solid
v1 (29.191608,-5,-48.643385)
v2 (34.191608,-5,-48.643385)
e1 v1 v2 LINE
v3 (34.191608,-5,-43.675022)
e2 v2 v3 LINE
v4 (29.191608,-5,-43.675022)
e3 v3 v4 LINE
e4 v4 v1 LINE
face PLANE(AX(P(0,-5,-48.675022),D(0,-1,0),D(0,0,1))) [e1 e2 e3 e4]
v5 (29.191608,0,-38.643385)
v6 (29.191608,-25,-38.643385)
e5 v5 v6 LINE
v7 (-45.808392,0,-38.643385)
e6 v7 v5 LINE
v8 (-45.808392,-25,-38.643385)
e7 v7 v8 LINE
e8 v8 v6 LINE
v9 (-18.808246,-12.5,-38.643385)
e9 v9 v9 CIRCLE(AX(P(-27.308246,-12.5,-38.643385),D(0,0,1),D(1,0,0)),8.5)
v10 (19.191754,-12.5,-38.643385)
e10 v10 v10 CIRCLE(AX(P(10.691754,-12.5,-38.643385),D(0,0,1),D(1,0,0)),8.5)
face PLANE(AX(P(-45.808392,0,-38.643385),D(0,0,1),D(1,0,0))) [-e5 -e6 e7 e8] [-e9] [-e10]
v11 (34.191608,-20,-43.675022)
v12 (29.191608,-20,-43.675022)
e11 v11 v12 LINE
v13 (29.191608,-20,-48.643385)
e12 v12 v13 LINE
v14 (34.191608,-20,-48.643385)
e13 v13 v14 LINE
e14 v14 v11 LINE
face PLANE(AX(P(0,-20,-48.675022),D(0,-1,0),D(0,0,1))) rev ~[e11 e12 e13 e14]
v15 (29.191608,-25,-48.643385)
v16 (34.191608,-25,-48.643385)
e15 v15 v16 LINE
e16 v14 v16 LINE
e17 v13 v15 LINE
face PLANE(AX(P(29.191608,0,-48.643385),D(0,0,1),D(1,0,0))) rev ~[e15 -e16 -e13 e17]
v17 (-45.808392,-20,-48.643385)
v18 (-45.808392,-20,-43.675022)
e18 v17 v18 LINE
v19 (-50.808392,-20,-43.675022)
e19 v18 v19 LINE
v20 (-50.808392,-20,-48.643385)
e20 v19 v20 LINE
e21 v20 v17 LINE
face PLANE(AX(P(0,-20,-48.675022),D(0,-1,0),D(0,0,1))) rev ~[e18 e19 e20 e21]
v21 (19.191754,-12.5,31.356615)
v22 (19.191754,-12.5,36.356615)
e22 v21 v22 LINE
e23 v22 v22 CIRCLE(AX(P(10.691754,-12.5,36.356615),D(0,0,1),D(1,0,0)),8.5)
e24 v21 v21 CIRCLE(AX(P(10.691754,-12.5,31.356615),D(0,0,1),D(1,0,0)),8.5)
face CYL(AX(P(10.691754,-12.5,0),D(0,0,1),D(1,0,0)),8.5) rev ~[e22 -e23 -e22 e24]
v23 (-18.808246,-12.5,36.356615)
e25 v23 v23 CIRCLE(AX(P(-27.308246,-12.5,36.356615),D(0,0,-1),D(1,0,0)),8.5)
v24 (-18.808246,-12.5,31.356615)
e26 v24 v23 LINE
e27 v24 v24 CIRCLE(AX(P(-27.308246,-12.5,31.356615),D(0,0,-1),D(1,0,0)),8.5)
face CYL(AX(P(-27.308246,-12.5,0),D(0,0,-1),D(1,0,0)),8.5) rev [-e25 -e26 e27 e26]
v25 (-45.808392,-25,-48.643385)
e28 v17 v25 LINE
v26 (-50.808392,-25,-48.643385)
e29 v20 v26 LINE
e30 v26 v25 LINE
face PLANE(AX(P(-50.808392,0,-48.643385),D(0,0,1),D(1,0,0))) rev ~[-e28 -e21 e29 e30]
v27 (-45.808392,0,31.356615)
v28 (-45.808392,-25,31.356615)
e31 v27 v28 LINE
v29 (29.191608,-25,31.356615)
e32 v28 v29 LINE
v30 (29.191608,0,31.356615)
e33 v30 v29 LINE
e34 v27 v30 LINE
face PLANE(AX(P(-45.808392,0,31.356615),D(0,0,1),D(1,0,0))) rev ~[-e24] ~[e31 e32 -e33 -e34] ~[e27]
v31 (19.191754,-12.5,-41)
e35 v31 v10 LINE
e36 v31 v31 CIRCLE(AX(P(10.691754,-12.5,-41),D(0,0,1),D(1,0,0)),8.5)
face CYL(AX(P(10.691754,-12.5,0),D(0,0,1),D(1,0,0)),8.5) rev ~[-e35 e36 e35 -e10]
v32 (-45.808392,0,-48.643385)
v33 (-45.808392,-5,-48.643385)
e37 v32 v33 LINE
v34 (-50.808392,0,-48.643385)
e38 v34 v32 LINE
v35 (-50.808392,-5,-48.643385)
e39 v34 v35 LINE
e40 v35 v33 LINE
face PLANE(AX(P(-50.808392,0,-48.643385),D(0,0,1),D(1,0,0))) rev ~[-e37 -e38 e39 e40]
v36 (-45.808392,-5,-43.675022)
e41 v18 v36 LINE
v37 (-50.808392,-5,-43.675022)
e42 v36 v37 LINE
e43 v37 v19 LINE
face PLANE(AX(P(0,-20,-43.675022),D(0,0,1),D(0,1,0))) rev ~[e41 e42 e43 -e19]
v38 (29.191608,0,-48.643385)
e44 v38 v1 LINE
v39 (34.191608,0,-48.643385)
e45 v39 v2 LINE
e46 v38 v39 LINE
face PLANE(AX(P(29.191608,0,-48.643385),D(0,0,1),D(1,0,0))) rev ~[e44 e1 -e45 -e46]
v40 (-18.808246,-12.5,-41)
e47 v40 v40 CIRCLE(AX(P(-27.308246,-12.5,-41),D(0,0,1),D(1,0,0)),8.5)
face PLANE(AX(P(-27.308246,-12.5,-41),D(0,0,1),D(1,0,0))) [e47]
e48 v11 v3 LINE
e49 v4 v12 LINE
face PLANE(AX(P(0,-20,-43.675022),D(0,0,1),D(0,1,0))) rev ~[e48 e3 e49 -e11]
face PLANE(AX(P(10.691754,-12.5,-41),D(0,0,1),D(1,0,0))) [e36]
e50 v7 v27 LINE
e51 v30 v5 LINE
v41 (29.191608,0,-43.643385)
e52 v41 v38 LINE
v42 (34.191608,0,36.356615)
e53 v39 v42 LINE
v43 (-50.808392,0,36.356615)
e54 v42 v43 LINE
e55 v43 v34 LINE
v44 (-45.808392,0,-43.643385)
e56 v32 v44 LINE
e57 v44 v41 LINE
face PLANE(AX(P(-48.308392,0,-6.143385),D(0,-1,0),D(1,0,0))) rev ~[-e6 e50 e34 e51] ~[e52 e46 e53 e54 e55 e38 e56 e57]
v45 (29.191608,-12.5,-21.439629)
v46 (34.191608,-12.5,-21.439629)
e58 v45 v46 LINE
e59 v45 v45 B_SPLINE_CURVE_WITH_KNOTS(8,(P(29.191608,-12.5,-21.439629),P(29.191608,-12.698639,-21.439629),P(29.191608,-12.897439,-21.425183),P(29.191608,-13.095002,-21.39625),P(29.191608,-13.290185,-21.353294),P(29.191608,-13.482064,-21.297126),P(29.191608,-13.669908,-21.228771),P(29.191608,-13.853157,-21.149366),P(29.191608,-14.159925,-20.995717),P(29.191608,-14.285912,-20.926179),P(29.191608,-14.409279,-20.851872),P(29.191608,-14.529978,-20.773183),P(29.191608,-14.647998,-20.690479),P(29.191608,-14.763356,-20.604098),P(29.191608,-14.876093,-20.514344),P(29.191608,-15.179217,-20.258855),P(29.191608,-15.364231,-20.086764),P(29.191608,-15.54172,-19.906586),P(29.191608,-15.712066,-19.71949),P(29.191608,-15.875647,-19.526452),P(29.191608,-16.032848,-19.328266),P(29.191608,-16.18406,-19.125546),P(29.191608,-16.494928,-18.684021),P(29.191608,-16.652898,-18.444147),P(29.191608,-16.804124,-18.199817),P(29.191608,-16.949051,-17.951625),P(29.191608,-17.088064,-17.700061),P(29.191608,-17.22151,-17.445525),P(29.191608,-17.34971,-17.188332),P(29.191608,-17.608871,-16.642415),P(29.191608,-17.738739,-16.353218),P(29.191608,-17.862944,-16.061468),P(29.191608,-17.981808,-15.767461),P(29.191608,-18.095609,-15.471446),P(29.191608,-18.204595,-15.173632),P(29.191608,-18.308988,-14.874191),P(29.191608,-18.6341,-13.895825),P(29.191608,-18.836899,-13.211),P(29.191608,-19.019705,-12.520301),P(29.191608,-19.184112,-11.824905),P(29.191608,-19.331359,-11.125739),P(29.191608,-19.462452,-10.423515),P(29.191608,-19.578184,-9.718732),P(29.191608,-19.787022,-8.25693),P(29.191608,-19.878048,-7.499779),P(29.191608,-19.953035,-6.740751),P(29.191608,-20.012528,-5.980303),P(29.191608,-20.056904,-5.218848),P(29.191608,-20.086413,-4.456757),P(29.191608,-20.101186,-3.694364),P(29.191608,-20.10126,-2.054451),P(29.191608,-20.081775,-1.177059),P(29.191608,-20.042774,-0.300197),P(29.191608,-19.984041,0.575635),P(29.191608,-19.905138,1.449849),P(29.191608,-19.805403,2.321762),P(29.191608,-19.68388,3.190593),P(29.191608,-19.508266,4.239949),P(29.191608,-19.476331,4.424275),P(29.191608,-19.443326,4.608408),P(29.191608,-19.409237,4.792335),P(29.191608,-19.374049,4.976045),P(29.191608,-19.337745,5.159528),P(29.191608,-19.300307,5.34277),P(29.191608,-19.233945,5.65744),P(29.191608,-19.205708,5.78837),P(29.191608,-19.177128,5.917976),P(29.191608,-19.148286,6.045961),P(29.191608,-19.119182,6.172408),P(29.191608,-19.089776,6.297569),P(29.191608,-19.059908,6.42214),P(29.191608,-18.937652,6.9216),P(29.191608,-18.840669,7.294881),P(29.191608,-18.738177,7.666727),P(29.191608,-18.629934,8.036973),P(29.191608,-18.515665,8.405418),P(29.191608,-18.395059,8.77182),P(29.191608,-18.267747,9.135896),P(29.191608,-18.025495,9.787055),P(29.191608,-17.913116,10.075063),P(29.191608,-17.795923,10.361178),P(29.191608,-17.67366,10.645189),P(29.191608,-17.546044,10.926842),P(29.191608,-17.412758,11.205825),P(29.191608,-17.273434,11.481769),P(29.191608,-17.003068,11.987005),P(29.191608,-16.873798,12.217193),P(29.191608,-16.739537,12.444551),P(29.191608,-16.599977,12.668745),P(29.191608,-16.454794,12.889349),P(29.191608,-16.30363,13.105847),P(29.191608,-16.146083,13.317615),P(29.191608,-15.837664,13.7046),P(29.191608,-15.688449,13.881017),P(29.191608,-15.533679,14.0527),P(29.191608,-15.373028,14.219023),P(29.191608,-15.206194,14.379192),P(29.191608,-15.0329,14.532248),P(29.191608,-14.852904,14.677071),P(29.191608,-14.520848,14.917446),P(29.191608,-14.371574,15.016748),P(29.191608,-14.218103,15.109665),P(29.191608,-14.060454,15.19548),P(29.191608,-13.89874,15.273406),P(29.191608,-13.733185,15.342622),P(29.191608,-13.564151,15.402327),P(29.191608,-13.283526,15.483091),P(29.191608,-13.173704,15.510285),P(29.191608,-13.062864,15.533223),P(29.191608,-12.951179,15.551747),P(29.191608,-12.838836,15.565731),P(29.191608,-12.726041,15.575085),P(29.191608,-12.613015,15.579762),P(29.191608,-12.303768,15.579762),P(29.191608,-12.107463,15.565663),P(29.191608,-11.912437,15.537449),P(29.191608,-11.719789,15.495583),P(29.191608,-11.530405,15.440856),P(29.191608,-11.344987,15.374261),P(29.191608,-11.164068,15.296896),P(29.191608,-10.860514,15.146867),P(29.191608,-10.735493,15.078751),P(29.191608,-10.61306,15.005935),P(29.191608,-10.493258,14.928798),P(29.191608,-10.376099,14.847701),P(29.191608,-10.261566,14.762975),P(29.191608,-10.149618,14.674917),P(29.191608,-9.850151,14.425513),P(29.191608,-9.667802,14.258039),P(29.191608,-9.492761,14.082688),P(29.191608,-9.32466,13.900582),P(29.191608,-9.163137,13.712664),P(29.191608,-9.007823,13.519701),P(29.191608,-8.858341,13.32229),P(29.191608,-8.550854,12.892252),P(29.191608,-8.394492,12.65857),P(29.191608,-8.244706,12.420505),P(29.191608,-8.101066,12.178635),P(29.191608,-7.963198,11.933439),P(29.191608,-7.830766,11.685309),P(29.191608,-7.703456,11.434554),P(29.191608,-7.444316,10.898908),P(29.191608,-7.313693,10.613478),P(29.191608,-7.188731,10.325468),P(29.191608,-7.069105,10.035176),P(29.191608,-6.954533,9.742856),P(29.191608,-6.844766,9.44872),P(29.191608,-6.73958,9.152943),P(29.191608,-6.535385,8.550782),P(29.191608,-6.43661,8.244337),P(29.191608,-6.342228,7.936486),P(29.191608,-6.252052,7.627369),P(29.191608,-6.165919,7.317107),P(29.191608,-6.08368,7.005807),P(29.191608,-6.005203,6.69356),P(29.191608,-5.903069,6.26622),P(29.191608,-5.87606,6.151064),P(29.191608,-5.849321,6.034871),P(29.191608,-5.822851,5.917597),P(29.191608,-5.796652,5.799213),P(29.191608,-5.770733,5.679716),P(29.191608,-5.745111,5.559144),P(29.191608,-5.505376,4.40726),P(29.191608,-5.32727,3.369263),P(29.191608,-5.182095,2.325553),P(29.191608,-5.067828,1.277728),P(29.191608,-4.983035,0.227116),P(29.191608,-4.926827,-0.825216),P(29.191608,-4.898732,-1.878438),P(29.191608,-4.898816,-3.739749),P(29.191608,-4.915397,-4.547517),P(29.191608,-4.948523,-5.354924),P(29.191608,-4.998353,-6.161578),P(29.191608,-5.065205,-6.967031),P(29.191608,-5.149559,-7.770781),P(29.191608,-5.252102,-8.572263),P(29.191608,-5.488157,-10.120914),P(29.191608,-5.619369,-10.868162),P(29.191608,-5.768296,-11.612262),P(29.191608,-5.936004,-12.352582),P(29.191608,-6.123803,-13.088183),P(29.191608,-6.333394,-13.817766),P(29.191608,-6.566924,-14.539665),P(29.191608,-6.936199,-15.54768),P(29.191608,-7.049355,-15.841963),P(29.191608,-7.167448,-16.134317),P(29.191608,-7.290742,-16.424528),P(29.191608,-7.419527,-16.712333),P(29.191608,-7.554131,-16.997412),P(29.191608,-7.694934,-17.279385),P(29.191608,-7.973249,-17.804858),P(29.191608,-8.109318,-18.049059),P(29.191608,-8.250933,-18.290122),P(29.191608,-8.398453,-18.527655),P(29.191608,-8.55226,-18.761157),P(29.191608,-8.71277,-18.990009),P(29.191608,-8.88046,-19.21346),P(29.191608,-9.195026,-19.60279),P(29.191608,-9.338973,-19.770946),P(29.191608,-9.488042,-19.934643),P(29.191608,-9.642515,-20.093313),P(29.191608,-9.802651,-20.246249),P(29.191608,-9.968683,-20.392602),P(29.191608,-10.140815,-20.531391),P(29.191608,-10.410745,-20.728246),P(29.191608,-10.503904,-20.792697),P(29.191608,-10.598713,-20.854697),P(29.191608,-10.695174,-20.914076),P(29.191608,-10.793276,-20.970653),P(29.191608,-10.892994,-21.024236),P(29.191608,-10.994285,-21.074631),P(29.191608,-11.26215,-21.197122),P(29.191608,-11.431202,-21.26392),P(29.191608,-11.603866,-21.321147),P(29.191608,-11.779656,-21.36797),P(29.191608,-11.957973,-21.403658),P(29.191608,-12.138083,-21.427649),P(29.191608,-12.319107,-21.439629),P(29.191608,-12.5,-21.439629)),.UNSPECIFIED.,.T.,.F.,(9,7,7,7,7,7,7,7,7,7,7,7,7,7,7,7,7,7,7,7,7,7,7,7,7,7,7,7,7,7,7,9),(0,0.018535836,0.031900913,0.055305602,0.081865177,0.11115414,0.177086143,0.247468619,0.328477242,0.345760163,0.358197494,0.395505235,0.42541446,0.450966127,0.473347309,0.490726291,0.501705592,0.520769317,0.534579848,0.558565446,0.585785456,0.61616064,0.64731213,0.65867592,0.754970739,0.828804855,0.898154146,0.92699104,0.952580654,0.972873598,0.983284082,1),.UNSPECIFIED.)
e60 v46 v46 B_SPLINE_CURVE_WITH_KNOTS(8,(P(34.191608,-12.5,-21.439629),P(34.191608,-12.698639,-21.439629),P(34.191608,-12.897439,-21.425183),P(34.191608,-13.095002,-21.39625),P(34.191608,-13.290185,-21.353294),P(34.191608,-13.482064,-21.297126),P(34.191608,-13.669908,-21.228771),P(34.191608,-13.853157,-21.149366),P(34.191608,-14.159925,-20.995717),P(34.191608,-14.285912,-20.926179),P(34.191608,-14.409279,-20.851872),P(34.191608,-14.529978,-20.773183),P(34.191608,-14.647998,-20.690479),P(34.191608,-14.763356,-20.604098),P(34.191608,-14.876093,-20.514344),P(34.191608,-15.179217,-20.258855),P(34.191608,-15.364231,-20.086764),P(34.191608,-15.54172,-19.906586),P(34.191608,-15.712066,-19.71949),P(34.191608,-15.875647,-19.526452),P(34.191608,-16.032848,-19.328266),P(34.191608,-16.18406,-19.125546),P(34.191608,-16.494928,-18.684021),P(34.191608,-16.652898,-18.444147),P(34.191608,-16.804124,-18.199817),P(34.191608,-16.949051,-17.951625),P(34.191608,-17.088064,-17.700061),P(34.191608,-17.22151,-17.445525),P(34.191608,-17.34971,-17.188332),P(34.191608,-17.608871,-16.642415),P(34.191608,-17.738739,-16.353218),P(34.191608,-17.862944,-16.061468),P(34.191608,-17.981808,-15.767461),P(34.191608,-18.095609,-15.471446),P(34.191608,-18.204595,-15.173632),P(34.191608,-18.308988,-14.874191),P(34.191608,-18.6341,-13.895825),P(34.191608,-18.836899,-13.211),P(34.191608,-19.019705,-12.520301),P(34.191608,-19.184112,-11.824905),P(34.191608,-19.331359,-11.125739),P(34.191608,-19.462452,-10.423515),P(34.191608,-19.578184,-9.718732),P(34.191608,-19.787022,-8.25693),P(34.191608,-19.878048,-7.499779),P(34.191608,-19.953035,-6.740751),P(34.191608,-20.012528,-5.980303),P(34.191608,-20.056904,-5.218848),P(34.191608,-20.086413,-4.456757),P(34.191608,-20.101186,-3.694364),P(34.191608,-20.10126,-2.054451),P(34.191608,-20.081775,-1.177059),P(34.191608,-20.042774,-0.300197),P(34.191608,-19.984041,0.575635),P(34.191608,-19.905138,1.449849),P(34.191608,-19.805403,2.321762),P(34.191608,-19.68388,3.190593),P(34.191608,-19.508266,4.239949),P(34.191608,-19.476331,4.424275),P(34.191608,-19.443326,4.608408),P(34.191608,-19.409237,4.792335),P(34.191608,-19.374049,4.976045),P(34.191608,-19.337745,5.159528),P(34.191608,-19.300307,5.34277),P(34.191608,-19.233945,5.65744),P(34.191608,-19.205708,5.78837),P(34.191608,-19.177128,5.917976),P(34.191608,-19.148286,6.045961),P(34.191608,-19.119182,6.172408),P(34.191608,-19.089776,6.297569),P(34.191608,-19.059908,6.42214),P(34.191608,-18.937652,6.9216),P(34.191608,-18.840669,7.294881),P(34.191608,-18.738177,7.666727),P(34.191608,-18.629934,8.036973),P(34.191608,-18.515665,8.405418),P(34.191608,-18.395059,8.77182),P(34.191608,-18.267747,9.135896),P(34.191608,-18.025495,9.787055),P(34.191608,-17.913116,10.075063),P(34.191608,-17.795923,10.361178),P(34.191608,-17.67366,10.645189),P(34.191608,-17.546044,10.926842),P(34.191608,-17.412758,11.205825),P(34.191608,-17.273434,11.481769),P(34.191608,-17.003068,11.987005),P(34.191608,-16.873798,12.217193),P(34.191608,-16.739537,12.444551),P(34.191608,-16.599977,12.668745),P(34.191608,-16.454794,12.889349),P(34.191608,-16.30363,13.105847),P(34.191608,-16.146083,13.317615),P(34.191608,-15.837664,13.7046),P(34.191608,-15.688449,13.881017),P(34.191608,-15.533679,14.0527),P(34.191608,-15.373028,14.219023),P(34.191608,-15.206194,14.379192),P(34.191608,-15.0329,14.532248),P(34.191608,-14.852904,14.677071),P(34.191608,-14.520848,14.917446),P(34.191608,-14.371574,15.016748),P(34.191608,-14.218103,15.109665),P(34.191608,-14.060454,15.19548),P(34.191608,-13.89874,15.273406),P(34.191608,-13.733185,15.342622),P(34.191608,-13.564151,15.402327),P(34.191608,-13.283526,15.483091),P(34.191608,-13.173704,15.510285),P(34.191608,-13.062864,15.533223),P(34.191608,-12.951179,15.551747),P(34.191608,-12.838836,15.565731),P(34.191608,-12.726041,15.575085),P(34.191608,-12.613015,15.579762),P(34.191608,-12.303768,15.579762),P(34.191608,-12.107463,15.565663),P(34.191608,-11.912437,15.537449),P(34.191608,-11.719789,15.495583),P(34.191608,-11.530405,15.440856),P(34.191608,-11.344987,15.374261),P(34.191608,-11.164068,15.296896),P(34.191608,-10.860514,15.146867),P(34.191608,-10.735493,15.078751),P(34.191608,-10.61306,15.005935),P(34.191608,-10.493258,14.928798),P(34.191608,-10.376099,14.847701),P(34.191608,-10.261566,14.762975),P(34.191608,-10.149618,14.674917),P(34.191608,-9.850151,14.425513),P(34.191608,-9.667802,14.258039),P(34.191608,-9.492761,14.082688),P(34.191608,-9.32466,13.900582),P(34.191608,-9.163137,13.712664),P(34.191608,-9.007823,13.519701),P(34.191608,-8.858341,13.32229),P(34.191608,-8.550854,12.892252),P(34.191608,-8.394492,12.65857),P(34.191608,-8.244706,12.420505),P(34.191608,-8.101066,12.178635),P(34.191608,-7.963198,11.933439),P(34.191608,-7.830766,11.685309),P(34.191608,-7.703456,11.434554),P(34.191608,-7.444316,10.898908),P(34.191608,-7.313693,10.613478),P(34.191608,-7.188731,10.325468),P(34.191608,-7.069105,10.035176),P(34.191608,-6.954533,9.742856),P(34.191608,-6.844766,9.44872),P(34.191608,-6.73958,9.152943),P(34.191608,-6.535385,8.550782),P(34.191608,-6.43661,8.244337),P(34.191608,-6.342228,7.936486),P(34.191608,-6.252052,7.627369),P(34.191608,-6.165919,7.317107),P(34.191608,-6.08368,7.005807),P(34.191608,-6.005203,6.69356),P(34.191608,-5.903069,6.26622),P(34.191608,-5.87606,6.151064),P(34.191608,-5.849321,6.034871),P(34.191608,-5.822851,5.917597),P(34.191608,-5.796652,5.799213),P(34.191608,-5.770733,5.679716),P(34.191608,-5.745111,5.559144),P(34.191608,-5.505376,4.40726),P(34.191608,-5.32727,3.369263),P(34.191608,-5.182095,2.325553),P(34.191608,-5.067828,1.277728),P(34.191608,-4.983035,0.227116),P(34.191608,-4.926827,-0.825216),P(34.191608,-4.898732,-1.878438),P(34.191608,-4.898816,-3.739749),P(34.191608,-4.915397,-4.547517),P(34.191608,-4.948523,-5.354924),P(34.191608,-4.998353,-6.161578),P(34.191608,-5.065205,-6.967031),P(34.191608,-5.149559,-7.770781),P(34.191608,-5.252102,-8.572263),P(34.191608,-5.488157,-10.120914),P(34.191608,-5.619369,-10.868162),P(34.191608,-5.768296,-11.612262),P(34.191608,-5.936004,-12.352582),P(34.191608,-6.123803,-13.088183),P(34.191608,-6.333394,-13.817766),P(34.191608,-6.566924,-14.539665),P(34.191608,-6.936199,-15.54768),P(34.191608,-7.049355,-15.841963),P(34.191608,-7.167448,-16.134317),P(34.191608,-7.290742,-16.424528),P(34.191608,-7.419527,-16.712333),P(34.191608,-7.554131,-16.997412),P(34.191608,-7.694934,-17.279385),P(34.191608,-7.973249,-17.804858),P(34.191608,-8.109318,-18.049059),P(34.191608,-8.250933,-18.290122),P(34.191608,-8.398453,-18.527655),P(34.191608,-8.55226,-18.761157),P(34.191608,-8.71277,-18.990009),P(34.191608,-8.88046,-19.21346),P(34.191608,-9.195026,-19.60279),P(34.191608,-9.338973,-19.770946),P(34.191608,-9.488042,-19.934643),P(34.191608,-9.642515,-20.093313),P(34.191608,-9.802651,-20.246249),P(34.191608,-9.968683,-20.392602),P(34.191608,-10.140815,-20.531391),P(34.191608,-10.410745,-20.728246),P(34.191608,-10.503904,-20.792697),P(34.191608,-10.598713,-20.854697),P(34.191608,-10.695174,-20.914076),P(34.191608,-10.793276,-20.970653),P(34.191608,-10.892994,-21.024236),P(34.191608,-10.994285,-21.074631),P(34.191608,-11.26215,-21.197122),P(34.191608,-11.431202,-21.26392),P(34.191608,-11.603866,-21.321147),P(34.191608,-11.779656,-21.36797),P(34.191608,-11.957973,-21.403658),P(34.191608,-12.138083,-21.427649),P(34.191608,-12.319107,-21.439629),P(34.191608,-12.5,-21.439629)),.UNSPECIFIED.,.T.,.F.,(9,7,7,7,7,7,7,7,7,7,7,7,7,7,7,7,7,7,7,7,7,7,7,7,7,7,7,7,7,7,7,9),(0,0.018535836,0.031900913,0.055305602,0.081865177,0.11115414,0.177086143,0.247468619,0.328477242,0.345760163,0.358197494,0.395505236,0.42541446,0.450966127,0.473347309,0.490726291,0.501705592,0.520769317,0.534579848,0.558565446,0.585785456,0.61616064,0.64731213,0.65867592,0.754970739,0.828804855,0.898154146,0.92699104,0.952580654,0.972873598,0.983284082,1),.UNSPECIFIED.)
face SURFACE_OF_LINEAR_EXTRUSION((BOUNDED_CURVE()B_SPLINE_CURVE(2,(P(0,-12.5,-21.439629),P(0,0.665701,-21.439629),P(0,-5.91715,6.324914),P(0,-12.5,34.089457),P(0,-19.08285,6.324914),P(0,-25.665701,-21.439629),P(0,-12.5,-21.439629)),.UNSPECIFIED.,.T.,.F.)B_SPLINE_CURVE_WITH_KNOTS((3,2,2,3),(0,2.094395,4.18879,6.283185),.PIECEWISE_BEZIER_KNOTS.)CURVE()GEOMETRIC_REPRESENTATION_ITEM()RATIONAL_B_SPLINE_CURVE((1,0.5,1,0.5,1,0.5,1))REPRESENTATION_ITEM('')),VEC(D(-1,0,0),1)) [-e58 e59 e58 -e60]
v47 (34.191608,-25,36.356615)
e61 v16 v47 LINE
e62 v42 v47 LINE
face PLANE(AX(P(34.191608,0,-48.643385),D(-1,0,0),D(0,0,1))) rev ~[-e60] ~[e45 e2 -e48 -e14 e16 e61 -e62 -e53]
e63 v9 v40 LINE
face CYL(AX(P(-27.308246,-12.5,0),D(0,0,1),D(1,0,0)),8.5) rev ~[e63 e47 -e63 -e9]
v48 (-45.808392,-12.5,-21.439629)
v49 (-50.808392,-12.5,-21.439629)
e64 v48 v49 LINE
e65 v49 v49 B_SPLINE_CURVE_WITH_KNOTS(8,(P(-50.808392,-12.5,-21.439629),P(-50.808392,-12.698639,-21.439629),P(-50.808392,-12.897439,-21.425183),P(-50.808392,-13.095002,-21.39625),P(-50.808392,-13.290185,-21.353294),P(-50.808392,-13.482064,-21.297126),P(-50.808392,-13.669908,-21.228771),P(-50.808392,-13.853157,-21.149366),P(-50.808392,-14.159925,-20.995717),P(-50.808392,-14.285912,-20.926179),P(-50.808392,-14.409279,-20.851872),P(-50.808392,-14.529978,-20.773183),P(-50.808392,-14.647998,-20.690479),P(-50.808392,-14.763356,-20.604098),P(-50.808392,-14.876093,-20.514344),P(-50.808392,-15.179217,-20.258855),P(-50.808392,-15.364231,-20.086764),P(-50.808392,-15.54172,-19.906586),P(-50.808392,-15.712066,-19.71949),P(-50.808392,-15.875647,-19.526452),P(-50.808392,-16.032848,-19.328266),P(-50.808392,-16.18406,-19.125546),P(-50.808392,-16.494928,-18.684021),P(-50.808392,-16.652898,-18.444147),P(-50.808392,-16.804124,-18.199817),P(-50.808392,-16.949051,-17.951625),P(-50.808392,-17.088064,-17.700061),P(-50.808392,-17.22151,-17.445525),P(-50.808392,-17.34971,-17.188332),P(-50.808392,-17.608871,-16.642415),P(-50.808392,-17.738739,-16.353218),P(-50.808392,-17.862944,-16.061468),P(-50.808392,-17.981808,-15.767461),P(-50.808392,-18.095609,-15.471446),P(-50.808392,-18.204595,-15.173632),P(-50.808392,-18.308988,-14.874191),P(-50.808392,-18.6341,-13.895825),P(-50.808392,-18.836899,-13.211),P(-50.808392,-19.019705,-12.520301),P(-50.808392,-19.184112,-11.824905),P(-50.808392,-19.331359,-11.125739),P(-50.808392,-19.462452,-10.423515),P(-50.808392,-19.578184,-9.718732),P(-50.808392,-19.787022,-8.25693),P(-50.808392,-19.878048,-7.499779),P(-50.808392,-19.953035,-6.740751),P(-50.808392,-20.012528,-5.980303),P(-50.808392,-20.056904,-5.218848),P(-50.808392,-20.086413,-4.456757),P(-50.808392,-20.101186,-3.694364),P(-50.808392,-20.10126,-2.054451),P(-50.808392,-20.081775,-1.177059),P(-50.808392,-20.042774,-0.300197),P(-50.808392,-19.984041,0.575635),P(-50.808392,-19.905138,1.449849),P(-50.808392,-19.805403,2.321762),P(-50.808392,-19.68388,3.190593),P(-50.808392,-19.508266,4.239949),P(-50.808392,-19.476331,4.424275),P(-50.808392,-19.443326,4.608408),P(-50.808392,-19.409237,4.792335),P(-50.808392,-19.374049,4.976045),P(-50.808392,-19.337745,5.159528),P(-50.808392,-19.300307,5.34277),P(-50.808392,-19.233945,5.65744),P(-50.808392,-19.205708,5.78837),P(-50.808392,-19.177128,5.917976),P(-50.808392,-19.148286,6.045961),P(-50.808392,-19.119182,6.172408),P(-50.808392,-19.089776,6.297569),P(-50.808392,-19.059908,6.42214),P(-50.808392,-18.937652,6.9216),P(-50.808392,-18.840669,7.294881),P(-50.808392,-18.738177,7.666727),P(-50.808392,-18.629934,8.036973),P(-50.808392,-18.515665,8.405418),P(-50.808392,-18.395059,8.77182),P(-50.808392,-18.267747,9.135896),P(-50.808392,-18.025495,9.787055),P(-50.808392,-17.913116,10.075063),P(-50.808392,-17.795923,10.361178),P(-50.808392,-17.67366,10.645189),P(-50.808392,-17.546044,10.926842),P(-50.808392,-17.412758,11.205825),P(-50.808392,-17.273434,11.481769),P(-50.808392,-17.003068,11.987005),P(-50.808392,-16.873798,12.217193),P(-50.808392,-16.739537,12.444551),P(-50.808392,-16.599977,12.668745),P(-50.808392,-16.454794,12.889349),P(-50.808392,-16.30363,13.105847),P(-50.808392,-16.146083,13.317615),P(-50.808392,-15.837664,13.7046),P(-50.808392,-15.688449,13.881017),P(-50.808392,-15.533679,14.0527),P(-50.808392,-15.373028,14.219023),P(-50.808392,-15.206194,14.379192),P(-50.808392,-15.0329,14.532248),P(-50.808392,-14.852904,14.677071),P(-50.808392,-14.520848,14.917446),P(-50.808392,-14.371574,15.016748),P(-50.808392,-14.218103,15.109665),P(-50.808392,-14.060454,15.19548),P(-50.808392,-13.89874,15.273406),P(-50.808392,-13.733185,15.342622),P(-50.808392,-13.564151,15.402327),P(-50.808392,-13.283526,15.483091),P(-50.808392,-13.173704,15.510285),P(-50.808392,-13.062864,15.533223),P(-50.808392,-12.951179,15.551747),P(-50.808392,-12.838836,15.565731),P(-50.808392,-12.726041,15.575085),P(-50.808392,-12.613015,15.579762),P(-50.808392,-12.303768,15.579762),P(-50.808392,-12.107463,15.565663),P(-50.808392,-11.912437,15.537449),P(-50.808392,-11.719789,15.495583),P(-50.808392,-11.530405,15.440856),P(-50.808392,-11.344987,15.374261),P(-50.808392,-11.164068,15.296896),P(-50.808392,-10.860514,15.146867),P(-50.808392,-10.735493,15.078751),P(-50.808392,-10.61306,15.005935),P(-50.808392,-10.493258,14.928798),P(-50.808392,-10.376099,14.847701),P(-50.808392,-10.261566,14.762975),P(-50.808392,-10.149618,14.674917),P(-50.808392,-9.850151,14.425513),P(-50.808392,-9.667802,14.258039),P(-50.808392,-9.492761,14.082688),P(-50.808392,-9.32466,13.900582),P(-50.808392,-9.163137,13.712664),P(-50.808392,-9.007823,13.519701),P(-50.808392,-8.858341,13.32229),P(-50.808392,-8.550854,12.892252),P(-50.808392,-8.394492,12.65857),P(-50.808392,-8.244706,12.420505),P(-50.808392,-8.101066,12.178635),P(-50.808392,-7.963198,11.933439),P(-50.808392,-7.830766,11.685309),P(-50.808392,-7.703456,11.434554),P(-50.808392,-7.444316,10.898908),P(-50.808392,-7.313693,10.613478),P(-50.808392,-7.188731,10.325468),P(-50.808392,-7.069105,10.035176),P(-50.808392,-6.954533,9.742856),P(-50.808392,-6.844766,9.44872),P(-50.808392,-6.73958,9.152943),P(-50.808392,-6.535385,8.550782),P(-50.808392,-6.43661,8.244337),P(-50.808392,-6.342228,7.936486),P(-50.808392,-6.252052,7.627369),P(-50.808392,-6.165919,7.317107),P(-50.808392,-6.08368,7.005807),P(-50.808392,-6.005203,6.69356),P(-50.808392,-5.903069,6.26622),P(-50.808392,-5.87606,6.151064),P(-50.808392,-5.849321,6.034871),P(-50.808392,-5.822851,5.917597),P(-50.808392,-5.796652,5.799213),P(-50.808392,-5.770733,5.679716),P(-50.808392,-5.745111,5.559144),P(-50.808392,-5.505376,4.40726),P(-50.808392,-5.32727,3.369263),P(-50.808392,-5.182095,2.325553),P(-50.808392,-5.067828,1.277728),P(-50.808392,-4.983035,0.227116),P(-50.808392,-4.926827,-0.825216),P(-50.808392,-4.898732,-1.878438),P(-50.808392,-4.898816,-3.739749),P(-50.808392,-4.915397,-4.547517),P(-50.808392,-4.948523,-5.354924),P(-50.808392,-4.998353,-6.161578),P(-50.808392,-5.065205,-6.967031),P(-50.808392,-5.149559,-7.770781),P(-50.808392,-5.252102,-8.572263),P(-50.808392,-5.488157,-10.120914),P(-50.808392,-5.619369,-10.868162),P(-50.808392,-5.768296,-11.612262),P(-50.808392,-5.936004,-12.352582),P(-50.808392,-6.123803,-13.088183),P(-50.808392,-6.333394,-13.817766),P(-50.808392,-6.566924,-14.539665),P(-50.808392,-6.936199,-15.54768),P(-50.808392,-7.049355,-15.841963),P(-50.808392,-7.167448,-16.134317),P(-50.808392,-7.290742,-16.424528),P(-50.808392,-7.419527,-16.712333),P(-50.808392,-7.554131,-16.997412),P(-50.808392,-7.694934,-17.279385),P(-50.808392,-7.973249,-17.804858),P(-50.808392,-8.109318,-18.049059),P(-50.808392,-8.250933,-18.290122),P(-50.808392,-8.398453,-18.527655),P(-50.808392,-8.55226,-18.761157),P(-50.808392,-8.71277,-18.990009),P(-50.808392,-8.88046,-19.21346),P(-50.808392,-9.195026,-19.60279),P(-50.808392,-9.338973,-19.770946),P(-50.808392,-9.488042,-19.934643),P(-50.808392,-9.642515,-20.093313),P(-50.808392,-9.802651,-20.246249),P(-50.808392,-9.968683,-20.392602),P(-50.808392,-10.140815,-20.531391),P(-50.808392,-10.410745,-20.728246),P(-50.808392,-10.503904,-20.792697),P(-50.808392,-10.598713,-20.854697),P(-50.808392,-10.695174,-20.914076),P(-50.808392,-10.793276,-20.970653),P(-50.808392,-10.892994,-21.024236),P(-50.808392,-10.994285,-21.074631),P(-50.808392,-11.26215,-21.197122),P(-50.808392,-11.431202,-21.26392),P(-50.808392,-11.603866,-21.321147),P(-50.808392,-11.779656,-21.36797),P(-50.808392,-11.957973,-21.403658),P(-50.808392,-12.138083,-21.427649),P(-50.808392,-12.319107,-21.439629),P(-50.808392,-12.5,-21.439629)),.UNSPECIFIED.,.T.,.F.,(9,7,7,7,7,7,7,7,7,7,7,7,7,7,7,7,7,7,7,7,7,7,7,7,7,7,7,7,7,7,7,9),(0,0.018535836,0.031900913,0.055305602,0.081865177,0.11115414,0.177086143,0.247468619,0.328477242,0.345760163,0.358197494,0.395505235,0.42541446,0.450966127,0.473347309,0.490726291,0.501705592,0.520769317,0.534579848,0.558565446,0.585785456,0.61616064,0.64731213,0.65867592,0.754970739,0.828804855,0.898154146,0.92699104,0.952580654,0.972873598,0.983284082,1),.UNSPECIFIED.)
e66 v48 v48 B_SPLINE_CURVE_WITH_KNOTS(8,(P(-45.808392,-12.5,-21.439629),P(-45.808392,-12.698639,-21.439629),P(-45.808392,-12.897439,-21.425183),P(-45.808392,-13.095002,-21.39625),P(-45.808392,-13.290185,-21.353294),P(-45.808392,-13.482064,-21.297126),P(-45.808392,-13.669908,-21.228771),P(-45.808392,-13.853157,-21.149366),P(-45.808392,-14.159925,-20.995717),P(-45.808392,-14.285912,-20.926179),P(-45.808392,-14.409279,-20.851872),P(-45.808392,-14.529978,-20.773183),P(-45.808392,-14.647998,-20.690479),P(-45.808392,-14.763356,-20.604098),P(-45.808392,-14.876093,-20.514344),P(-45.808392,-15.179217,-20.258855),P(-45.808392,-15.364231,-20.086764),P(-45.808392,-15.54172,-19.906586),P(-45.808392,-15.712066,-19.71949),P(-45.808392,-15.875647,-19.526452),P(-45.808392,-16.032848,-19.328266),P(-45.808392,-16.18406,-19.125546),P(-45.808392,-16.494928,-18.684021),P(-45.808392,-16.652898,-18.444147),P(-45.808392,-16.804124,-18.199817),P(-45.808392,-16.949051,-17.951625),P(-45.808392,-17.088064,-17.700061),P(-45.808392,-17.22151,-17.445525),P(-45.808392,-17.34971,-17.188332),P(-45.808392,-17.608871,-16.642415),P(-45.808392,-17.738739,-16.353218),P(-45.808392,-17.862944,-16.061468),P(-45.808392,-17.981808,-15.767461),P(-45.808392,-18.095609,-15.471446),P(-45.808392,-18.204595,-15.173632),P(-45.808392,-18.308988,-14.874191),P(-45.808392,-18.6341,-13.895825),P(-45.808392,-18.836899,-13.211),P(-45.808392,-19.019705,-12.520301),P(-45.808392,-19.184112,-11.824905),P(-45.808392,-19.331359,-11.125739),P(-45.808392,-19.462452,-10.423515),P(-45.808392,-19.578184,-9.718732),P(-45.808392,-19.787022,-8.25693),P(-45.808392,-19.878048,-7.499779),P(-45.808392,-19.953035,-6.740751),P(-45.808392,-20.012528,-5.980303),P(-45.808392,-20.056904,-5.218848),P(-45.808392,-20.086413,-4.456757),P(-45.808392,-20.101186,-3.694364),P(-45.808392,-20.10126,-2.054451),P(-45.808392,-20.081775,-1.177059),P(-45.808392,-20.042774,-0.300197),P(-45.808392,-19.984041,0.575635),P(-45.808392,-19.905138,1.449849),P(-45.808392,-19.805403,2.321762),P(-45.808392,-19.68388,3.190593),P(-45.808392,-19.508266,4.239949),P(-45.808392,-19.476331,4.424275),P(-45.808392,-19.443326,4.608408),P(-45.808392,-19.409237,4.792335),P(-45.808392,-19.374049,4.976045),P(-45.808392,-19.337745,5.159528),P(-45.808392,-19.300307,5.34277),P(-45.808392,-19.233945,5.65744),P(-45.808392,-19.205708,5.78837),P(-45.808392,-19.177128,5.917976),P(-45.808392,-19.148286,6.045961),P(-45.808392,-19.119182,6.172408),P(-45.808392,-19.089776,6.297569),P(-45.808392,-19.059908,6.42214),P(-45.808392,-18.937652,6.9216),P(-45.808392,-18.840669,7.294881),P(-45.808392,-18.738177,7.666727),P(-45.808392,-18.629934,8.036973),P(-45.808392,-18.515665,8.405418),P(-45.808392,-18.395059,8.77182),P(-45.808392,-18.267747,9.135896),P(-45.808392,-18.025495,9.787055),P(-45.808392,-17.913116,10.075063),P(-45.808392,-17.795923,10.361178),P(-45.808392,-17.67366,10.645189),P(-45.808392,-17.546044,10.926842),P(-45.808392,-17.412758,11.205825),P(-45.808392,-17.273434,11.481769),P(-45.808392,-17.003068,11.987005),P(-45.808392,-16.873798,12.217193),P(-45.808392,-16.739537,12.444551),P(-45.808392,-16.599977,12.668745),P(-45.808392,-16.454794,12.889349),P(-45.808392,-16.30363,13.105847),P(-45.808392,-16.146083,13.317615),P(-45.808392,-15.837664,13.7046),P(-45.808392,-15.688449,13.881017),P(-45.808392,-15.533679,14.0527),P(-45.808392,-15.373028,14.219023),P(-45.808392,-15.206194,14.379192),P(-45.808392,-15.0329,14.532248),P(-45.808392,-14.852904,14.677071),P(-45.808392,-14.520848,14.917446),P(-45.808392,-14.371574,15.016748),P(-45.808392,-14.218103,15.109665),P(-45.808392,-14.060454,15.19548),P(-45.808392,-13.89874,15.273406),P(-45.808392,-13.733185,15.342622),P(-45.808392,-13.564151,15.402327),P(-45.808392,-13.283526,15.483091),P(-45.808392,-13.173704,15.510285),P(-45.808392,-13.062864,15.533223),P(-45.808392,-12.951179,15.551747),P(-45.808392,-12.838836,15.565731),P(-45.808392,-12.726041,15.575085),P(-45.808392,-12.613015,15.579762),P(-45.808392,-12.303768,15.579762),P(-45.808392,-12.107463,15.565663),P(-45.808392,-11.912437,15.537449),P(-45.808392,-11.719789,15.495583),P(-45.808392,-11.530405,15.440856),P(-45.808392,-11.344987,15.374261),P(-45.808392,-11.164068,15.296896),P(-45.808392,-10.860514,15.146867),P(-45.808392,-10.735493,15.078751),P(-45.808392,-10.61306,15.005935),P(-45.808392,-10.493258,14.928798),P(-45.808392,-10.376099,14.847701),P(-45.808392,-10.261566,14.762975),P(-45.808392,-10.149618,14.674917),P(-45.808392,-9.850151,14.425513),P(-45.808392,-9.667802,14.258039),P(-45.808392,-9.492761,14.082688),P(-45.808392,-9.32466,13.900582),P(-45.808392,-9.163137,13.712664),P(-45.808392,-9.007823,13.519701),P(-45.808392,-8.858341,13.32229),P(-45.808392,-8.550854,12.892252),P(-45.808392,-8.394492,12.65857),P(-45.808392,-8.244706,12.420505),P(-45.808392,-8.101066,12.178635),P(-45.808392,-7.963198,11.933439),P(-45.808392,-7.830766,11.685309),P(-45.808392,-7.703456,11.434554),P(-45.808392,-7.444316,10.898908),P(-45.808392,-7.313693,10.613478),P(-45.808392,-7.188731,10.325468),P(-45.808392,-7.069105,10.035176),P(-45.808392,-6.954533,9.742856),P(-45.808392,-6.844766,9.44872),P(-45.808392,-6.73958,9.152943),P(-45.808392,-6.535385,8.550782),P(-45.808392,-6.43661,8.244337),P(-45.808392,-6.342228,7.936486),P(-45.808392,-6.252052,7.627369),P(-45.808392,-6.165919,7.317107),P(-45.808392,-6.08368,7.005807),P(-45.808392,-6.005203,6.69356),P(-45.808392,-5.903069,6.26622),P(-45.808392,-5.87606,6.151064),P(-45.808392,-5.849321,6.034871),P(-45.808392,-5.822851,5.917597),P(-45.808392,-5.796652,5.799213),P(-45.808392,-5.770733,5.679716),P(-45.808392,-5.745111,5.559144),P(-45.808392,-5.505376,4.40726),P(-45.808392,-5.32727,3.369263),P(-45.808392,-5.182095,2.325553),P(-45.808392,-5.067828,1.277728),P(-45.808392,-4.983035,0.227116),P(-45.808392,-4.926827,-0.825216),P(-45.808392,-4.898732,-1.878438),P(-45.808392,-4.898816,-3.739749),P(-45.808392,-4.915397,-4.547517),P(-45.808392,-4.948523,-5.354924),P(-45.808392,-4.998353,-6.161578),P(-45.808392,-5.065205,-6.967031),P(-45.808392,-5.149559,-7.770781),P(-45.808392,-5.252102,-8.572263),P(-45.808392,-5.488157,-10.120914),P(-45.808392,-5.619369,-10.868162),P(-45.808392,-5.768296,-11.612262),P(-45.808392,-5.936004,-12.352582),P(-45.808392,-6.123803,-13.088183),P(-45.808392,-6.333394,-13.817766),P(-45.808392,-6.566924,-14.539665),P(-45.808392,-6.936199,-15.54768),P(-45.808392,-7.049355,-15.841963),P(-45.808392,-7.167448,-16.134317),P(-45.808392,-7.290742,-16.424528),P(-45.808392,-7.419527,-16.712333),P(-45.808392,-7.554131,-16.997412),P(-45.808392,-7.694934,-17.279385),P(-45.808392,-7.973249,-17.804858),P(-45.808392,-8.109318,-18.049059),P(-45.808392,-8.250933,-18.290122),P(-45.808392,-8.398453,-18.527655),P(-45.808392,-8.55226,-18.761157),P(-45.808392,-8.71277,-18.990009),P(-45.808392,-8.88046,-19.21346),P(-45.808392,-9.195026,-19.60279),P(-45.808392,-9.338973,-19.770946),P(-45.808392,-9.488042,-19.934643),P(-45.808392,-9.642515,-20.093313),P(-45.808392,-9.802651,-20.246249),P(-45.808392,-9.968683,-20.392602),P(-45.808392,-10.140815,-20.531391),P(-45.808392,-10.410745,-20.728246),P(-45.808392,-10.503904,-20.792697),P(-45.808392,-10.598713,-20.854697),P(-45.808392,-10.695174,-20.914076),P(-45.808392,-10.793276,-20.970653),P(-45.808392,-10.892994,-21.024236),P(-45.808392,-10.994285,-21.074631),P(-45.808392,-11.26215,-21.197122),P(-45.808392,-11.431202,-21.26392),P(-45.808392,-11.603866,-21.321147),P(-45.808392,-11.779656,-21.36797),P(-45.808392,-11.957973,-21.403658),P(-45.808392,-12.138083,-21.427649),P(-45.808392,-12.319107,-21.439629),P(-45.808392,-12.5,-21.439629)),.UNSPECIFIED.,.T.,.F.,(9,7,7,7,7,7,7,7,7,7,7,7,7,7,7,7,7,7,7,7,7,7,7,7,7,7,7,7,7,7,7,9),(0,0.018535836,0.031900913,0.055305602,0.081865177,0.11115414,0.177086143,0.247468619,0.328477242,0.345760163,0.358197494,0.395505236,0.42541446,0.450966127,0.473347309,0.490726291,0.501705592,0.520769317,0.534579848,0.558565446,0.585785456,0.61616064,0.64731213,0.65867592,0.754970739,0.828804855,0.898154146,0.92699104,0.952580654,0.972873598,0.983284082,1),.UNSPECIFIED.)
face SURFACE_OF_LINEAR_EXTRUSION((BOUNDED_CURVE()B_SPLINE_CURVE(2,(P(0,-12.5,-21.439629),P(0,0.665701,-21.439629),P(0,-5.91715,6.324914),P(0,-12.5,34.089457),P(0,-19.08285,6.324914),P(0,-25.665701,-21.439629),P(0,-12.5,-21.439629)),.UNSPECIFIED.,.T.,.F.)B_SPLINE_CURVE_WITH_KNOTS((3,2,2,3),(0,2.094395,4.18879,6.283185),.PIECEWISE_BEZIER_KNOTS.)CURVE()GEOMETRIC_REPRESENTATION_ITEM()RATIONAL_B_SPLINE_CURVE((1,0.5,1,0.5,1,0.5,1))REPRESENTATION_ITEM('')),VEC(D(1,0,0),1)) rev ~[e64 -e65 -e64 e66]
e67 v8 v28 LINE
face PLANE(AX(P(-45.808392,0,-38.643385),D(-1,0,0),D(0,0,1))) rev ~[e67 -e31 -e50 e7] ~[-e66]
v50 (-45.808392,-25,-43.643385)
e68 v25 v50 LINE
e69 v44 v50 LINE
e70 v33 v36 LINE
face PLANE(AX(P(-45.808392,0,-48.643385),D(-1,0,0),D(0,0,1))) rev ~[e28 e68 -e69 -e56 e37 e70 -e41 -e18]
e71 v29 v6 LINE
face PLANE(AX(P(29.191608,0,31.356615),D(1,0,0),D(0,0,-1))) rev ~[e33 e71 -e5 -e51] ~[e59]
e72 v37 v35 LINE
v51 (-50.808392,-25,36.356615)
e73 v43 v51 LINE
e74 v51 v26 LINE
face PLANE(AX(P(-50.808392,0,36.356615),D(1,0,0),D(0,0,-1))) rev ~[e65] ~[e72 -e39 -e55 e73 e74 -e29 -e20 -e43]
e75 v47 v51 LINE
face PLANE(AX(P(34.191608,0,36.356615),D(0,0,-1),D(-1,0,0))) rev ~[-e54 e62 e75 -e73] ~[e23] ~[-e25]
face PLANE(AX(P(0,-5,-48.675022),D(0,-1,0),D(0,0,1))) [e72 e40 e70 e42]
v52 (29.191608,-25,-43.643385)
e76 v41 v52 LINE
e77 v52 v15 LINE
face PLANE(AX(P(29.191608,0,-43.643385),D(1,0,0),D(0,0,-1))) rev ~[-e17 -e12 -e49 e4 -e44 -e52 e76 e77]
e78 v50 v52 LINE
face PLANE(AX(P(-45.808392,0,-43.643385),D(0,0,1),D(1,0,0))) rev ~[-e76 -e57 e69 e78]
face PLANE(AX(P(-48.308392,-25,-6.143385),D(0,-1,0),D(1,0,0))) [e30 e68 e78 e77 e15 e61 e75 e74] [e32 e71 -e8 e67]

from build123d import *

# Parameters (mm, degrees)
F0_W     = 75
F0_H     = 5
F1_DEPTH = 25
F2_W     = 15
F2_H     = 5
F3_DEPTH = 100
F4_R     = 8.5
F5_DEPTH = 41


with BuildPart() as f1:
    # F0 (on Front) → F1 (new body)
    with BuildSketch(Plane.XZ):
        Polygon((-45.808392, 36.356615), (-50.808392, 36.356615), (-50.808392, -48.643385), (-45.808392, -48.643385), (-45.808392, -43.643385), (-45.808392, -38.643385), (-45.808392, 31.356615), align=None)
        with Locations((-8.308392, 33.856615)):
            Rectangle(F0_W, F0_H)
        Polygon((34.191608, 36.356615), (29.191608, 36.356615), (29.191608, 31.356615), (29.191608, -38.643385), (29.191608, -43.643385), (29.191608, -48.643385), (34.191608, -48.643385), align=None)
        with Locations((-8.308392, -41.143385)):
            Rectangle(F0_W, F0_H)
    extrude(amount=F1_DEPTH)

    # F2 (on Right) → F3 (cut, symmetric)
    with BuildSketch(Plane.YZ):
        with Locations((-12.5, -46.175022)):
            Rectangle(F2_W, F2_H)
        with BuildLine():
            add(Edge.make_bspline(
                [(-12.5, -21.439629), (0.665701, -21.439629), (-5.91715, 6.324914), (-12.5, 34.089457), (-19.08285, 6.324914), (-25.665701, -21.439629), (-12.5, -21.439629)],
                knots=[0, 0, 0, 2.094395, 2.094395, 4.18879, 4.18879, 6.283185, 6.283185, 6.283185], degree=2, weights=[1, 0.5, 1, 0.5, 1, 0.5, 1]))
        make_face()
    extrude(amount=F3_DEPTH, both=True, mode=Mode.SUBTRACT)

    # F4 (on Top) → F5 (cut, symmetric)
    with BuildSketch(Plane.XY):
        with Locations((-27.308246, -12.5)):
            Circle(F4_R)
        with Locations((10.691754, -12.5)):
            Circle(F4_R)
    extrude(amount=F5_DEPTH, both=True, mode=Mode.SUBTRACT)


solid = f1.part
